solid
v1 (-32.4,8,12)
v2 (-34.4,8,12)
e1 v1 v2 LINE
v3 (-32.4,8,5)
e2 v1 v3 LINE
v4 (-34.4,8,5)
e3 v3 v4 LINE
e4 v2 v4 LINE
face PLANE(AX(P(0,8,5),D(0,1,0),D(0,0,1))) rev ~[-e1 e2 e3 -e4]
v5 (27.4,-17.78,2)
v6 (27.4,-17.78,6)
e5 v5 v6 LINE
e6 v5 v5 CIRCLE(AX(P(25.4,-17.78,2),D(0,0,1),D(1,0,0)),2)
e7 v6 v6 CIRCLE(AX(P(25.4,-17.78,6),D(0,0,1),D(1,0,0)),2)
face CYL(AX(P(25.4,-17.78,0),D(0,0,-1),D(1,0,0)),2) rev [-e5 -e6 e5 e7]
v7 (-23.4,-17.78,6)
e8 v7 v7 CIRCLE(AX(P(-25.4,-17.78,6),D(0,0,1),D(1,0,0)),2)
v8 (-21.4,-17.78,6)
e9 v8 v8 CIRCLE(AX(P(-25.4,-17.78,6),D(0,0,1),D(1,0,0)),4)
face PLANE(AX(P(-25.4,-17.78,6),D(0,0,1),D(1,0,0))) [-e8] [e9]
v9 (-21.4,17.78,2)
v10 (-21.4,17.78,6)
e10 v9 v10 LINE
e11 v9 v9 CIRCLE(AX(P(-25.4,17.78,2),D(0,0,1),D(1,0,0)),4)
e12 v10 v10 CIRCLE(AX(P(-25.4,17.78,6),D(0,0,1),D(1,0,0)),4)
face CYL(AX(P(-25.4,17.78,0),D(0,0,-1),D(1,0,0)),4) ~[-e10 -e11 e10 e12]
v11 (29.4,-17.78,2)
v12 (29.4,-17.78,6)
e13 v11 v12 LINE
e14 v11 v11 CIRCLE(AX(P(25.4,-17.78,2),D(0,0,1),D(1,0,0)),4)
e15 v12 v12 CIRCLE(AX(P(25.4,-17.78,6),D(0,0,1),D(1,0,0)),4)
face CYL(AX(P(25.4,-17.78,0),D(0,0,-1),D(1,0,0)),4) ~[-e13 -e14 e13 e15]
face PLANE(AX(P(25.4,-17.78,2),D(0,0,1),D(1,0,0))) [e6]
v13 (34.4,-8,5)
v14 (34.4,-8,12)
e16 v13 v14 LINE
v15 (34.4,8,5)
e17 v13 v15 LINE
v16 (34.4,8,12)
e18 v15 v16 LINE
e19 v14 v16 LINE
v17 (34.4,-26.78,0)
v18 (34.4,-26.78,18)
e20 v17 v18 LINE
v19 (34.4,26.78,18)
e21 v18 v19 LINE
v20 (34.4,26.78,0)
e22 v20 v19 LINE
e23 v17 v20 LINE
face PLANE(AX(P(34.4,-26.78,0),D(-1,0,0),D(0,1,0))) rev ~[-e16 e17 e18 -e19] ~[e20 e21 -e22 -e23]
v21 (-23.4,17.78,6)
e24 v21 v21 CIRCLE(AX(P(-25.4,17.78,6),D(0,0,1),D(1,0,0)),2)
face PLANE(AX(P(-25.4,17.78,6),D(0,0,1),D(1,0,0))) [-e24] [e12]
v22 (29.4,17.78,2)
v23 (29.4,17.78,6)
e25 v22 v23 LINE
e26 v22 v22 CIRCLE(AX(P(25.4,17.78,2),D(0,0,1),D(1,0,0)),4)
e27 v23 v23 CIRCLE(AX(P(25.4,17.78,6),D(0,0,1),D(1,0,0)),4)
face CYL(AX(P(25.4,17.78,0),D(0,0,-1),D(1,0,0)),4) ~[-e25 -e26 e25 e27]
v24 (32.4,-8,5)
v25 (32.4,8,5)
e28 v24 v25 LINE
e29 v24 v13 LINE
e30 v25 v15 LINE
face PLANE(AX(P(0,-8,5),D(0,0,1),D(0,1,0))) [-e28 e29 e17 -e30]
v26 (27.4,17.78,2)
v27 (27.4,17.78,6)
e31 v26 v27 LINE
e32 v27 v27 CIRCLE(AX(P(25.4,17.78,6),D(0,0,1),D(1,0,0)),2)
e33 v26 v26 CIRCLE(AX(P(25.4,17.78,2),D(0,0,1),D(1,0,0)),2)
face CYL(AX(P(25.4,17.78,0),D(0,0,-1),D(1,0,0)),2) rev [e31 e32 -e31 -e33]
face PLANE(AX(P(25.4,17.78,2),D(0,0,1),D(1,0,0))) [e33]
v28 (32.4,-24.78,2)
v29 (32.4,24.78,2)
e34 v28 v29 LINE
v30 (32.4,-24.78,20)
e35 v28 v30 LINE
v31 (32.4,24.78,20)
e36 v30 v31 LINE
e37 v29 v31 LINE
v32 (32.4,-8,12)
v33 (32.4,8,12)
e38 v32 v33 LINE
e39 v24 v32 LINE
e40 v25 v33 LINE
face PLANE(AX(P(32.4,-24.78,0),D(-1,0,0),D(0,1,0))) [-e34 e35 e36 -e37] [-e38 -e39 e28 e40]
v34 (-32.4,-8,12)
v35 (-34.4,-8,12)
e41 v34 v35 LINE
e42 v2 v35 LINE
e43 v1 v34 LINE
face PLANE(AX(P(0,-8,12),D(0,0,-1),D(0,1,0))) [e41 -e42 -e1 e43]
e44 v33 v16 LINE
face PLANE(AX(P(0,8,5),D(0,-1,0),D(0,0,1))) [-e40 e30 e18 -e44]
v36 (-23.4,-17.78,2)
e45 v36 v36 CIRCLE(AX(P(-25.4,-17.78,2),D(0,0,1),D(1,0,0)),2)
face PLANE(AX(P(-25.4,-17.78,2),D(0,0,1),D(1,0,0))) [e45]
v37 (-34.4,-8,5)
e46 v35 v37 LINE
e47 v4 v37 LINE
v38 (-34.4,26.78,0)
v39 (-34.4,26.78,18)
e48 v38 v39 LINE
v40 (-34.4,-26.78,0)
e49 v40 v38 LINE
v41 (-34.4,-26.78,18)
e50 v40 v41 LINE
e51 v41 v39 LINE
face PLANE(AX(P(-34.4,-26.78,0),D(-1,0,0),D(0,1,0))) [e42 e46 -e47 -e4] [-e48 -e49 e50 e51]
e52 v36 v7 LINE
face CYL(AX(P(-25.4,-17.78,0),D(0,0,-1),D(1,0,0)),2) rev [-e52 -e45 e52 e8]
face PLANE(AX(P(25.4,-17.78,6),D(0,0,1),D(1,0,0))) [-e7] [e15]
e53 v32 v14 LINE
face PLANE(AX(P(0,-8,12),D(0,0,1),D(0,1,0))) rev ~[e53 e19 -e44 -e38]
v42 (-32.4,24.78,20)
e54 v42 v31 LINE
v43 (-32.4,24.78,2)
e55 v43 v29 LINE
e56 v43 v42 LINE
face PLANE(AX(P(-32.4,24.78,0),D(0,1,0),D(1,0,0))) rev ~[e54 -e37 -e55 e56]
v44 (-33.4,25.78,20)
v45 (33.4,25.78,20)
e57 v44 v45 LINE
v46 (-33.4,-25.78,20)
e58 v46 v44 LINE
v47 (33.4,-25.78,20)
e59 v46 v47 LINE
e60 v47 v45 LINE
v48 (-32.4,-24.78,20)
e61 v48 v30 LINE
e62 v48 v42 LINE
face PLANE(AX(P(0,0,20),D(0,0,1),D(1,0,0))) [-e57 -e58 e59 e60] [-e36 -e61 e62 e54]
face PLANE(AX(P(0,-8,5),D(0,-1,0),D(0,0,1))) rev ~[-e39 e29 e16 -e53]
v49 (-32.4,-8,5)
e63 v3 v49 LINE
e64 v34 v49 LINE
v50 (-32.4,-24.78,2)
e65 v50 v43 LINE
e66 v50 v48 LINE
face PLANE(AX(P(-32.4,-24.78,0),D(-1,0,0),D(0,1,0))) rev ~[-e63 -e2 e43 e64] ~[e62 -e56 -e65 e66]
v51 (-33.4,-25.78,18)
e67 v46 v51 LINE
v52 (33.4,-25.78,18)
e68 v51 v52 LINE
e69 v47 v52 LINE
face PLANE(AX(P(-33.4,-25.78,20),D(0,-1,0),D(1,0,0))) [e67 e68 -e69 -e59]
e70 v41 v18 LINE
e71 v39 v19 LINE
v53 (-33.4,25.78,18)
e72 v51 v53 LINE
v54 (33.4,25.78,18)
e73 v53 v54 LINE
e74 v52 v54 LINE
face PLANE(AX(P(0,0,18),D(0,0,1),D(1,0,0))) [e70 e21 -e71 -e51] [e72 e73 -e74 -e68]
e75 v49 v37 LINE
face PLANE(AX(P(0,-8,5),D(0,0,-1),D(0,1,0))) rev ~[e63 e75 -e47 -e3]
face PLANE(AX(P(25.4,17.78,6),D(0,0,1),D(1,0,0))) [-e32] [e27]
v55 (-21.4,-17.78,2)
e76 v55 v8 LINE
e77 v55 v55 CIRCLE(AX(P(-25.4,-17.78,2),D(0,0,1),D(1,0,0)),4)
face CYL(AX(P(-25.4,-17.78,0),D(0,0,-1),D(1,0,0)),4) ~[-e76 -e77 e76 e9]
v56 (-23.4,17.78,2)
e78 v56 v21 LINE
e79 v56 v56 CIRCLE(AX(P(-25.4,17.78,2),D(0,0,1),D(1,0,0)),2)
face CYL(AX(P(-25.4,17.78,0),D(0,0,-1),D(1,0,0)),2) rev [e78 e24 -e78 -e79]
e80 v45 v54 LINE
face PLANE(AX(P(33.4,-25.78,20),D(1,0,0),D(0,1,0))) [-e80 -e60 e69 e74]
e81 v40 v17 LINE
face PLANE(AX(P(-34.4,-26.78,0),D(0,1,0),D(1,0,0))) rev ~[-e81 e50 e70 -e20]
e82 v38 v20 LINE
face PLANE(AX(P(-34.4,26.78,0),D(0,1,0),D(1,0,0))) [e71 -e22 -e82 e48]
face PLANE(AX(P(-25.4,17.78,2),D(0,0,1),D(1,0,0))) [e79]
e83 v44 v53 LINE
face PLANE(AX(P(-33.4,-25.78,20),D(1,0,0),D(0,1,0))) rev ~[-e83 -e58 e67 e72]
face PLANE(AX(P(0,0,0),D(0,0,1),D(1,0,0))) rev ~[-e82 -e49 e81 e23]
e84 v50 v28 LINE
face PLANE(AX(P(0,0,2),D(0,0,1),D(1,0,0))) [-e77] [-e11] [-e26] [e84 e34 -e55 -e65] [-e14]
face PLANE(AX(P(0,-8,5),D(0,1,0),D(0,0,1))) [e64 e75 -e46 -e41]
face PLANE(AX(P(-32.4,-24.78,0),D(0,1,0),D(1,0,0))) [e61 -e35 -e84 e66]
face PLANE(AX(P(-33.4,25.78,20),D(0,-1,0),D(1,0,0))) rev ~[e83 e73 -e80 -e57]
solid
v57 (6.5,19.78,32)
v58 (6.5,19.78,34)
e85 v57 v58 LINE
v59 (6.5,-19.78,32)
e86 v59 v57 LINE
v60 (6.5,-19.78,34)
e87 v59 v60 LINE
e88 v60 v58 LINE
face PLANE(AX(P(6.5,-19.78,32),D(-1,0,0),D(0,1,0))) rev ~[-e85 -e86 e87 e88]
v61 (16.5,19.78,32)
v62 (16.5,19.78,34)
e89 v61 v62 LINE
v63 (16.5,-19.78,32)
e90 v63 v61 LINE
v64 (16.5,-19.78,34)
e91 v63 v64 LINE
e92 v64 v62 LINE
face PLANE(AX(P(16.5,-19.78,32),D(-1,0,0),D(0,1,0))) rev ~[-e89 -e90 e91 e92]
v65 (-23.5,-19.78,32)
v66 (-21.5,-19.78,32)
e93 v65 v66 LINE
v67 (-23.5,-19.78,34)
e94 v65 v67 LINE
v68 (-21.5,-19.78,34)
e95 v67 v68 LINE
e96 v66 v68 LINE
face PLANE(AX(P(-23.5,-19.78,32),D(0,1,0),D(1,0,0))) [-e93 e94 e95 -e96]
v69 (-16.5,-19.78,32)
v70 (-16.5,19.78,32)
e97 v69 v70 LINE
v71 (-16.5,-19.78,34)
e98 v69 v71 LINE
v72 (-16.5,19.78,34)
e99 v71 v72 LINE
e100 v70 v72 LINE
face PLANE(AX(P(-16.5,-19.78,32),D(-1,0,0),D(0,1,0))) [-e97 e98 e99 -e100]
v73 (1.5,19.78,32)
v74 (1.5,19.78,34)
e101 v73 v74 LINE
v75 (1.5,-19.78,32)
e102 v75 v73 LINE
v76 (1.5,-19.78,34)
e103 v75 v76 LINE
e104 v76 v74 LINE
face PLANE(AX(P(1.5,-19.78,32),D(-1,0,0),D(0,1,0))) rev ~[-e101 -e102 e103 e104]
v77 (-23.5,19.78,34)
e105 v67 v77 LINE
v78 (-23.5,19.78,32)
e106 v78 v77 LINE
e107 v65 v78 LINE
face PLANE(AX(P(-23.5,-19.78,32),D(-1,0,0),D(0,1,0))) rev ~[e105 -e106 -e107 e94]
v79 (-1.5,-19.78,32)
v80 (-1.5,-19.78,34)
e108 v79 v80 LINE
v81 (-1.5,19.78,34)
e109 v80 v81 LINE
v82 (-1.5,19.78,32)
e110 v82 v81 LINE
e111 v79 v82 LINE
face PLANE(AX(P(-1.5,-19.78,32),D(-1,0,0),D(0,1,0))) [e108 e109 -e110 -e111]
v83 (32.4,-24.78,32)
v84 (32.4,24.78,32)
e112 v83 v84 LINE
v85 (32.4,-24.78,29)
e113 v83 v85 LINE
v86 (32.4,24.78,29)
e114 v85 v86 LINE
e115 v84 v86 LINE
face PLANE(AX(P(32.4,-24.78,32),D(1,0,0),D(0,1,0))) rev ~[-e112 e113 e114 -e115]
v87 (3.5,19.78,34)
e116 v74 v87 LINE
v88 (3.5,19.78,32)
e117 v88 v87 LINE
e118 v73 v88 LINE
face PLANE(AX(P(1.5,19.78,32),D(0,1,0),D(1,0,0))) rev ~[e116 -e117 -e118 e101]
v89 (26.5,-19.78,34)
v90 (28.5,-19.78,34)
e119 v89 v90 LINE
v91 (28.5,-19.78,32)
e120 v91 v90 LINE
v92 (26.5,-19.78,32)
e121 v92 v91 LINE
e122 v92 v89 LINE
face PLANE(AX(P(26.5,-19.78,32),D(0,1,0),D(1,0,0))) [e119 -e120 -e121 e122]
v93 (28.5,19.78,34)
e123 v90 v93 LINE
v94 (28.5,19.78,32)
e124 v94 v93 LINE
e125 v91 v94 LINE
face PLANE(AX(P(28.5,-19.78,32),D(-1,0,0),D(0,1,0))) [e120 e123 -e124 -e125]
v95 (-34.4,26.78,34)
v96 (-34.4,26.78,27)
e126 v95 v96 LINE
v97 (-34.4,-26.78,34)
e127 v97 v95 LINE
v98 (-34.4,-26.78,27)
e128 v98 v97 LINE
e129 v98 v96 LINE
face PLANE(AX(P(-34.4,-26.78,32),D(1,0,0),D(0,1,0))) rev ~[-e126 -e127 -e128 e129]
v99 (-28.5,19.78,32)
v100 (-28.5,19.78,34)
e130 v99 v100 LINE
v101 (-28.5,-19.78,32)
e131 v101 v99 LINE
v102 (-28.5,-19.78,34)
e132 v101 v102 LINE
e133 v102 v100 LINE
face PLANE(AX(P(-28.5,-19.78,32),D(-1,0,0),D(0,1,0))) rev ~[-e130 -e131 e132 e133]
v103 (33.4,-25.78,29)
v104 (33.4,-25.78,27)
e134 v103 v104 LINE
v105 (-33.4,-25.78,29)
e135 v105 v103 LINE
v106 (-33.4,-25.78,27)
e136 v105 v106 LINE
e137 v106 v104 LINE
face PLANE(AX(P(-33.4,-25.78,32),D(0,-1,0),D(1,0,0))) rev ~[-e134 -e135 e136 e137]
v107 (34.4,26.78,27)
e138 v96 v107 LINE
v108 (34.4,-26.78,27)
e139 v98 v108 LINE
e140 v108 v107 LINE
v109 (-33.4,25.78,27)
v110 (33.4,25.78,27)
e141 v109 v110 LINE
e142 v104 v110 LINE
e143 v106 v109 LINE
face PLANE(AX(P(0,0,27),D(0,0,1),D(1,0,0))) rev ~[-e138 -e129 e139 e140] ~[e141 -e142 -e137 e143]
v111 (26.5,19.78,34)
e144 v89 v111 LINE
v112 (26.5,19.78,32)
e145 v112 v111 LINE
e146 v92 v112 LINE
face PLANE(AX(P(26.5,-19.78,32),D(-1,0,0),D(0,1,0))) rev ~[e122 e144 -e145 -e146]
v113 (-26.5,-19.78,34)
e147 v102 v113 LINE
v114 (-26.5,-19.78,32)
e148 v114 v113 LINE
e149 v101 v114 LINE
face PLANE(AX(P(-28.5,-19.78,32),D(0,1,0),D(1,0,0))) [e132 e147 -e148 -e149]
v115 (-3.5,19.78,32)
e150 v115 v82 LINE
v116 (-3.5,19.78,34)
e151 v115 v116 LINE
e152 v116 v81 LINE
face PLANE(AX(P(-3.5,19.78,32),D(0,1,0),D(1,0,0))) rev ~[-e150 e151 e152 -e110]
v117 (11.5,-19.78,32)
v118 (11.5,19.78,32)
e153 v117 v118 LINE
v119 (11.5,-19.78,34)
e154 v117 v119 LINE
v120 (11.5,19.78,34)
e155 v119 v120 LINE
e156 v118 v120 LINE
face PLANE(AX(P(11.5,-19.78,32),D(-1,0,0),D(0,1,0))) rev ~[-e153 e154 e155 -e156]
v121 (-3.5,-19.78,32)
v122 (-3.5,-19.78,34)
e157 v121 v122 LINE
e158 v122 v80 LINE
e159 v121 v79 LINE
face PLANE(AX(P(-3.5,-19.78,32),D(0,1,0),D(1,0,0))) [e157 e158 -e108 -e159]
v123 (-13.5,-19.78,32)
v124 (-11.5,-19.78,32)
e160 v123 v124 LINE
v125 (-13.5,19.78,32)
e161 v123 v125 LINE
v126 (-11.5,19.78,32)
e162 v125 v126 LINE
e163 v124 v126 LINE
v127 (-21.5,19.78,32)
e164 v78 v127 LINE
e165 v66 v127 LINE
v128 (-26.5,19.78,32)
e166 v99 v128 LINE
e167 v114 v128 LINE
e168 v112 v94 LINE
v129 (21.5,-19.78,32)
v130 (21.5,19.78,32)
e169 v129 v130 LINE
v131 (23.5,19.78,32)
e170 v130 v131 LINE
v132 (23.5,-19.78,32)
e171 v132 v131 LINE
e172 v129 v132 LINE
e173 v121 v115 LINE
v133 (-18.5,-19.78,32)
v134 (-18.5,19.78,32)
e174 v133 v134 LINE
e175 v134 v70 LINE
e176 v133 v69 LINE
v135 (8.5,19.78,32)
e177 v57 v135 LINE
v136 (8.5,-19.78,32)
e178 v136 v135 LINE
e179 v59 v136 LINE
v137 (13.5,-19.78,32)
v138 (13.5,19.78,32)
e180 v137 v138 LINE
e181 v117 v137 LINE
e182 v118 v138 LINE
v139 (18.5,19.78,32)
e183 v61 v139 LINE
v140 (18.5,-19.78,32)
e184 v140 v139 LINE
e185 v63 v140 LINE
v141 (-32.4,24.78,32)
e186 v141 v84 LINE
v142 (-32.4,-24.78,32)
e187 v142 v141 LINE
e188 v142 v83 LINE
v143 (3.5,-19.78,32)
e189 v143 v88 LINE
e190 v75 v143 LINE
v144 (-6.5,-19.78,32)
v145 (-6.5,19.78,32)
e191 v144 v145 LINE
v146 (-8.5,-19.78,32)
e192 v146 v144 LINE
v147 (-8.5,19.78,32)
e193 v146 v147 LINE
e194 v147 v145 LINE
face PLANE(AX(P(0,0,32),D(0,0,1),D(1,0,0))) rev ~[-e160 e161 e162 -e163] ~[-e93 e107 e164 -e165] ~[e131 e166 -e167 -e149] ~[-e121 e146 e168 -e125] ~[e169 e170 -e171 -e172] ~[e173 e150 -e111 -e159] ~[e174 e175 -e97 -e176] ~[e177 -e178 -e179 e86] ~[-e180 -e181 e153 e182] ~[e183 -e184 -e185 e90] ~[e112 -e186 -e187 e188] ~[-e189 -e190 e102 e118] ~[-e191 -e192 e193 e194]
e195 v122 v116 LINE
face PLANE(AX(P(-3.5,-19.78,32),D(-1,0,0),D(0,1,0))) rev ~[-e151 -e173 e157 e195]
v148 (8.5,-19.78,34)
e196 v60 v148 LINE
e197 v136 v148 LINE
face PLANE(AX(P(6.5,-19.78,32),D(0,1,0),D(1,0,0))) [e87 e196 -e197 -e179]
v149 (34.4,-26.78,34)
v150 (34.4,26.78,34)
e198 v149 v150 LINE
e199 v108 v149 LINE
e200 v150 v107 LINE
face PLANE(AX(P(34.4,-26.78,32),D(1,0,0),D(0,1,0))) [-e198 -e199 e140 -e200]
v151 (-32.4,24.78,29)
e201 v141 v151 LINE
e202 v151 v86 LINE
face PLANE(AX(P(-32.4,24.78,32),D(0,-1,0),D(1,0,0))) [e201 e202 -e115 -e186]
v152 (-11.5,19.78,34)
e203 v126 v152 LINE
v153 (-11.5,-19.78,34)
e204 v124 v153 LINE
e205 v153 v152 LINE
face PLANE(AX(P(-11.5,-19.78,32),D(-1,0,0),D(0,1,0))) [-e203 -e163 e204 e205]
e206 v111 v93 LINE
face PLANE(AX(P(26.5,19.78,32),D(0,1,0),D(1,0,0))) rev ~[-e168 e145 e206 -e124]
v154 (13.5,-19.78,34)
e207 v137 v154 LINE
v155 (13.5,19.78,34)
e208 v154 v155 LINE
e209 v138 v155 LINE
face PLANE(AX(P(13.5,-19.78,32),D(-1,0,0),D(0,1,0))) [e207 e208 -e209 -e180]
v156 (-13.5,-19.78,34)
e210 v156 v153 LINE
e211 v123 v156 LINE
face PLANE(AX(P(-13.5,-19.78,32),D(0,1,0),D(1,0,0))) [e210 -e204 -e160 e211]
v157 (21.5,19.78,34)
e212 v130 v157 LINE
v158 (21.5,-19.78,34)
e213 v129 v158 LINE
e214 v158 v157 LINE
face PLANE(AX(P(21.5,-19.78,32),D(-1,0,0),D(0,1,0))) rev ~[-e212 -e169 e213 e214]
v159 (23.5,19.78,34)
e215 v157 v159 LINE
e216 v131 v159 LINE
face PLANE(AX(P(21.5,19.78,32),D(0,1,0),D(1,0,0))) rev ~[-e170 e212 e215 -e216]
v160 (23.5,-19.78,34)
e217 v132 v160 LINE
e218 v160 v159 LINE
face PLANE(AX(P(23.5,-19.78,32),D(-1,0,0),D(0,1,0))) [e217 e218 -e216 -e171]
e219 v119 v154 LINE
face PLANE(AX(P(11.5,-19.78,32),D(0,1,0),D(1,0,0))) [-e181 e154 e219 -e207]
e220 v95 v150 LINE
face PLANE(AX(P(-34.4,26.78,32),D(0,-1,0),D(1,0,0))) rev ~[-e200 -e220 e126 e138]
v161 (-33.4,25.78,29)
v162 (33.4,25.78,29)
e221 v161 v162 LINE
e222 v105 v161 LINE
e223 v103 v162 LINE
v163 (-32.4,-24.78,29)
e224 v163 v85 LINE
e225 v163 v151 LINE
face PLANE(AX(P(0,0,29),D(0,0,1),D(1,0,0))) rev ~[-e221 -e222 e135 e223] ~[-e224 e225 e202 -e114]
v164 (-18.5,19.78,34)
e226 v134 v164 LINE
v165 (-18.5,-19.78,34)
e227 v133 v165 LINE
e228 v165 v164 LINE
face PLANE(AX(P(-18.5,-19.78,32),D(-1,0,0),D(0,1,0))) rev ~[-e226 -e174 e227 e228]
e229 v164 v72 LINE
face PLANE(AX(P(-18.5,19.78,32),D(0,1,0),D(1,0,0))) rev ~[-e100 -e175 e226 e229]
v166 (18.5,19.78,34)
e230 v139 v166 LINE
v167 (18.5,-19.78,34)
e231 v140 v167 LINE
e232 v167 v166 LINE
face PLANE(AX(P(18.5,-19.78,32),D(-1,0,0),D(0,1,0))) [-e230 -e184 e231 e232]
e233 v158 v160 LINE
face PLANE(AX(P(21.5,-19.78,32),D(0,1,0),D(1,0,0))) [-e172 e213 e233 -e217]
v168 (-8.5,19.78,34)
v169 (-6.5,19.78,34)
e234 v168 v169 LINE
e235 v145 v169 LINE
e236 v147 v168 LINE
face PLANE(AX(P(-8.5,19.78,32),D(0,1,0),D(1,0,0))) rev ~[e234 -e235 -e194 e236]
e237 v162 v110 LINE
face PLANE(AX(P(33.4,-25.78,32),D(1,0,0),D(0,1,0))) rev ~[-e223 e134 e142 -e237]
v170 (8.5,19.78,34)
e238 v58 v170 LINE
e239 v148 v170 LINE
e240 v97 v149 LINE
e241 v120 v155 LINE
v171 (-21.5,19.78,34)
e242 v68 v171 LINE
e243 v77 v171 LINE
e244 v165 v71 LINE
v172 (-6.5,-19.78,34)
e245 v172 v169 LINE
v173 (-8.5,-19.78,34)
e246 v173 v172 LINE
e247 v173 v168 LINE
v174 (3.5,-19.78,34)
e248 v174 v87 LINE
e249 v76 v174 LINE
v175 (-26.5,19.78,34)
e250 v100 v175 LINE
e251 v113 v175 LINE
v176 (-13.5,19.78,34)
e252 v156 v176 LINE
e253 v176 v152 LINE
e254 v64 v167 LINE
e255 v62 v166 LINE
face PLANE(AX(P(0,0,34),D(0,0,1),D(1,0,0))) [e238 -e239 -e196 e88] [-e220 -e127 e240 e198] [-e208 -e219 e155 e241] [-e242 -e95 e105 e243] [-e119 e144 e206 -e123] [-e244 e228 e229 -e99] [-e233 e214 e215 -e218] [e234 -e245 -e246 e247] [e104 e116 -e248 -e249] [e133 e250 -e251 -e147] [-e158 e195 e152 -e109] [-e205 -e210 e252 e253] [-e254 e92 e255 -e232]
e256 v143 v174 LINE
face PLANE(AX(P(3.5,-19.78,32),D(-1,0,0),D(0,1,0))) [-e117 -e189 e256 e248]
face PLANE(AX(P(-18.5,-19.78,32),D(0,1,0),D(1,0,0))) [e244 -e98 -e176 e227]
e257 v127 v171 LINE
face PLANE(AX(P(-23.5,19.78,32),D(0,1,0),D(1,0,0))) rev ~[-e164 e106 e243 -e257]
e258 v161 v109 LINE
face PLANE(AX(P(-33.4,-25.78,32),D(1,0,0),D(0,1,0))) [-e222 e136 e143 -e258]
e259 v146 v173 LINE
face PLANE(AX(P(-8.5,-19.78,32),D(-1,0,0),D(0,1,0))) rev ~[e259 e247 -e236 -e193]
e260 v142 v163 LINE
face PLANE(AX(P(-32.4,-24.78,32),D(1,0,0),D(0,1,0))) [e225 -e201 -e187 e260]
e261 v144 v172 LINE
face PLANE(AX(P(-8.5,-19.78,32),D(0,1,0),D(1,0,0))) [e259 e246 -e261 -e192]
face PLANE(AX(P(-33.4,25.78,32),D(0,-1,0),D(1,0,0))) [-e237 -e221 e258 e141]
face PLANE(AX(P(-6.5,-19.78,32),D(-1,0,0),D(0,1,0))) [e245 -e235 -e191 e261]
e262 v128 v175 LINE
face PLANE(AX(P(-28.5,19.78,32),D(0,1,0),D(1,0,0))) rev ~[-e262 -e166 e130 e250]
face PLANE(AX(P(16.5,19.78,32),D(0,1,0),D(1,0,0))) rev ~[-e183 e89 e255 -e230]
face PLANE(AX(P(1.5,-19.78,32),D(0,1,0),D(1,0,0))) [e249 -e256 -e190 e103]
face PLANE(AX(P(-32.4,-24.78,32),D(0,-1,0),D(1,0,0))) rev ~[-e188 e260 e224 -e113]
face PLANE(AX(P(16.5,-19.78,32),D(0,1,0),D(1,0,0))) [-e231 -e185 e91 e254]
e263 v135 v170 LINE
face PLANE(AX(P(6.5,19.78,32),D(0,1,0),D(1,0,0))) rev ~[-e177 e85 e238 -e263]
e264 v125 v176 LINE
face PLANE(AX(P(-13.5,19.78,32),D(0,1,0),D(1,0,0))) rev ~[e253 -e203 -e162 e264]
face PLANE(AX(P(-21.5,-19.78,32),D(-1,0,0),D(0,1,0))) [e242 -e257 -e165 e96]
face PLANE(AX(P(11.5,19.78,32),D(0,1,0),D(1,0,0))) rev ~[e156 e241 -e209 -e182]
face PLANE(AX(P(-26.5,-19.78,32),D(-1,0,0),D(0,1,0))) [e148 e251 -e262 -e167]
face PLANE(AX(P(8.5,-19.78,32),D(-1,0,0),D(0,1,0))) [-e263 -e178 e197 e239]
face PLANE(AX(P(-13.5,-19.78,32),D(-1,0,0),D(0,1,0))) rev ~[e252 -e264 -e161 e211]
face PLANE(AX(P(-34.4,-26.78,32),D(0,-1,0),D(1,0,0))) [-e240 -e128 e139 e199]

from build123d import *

# Parameters (mm, degrees)
F0_W          = 64.8
F0_H          = 49.56
F0_R          = 4
F1_DEPTH      = 2
F0_R_2        = 2
F2_DEPTH      = 6
F3_DEPTH      = 2
F0_W_2        = 68.8
F0_H_2        = 53.56
F4_DEPTH      = 20
F5_W          = 68.8
F5_H          = 53.56
F5_W_2        = 66.8
F5_H_2        = 51.56
F6_DEPTH      = 2
F7_W          = 16
F7_H          = 7
F8_DEPTH      = 40
F8_DEPTH_BACK = 40
F10_W         = 68.8
F10_H         = 53.56
F10_W_2       = 66.8
F10_H_2       = 51.56
F10_W_3       = 64.8
F10_H_3       = 49.56
F10_W_4       = 2
F10_H_4       = 39.56
F11_DEPTH     = 2
F12_DEPTH     = 5
F13_DEPTH     = 3


with BuildPart() as f1:
    # F0 (on Top) → F1 (new body)
    with BuildSketch(Plane.XY):
        Rectangle(F0_W, F0_H)
        with Locations((-25.4, -17.78)):
            Circle(F0_R, mode=Mode.SUBTRACT)
        with Locations((25.4, -17.78)):
            Circle(F0_R, mode=Mode.SUBTRACT)
        with Locations((-25.4, 17.78)):
            Circle(F0_R, mode=Mode.SUBTRACT)
        with Locations((25.4, 17.78)):
            Circle(F0_R, mode=Mode.SUBTRACT)
    extrude(amount=F1_DEPTH)

    # F0 (on Top) → F2 (join)
    with BuildSketch(Plane.XY):
        with Locations((-25.4, 17.78)):
            Circle(F0_R)
        with Locations((-25.4, 17.78)):
            Circle(F0_R_2, mode=Mode.SUBTRACT)
        with Locations((25.4, 17.78)):
            Circle(F0_R)
        with Locations((25.4, 17.78)):
            Circle(F0_R_2, mode=Mode.SUBTRACT)
        with Locations((25.4, -17.78)):
            Circle(F0_R)
        with Locations((25.4, -17.78)):
            Circle(F0_R_2, mode=Mode.SUBTRACT)
        with Locations((-25.4, -17.78)):
            Circle(F0_R)
        with Locations((-25.4, -17.78)):
            Circle(F0_R_2, mode=Mode.SUBTRACT)
    extrude(amount=F2_DEPTH)

    # F0 (on Top) → F3 (join)
    with BuildSketch(Plane.XY):
        with Locations((-25.4, 17.78)):
            Circle(F0_R_2)
        with Locations((-25.4, -17.78)):
            Circle(F0_R_2)
        with Locations((25.4, -17.78)):
            Circle(F0_R_2)
        with Locations((25.4, 17.78)):
            Circle(F0_R_2)
    extrude(amount=F3_DEPTH)

    # F0 (on Top) → F4 (join)
    with BuildSketch(Plane.XY):
        Rectangle(F0_W_2, F0_H_2)
        Rectangle(F0_W, F0_H, mode=Mode.SUBTRACT)
    extrude(amount=F4_DEPTH)

    # F5 (on face) → F6 (cut)
    with BuildSketch(Plane.XY.offset(20)):
        Rectangle(F5_W, F5_H)
        Rectangle(F5_W_2, F5_H_2, mode=Mode.SUBTRACT)
    extrude(amount=-F6_DEPTH, mode=Mode.SUBTRACT)

    # F7 (on Right) → F8 (cut, two sides)
    with BuildSketch(Plane.YZ) as f8_sk:
        with Locations((0, 8.5)):
            Rectangle(F7_W, F7_H)
    extrude(amount=-F8_DEPTH, mode=Mode.SUBTRACT)
    extrude(f8_sk.sketch, amount=F8_DEPTH_BACK, mode=Mode.SUBTRACT)


with BuildPart() as f11:
    # F10 (on offset) → F11 (new body)
    with BuildSketch(Plane.XY.offset(32)):
        Rectangle(F10_W, F10_H)
        Rectangle(F10_W_2, F10_H_2, mode=Mode.SUBTRACT)
        Rectangle(F10_W_2, F10_H_2)
        Rectangle(F10_W_3, F10_H_3, mode=Mode.SUBTRACT)
        Rectangle(F10_W_3, F10_H_3)
        with Locations((-27.5, 0)):
            Rectangle(F10_W_4, F10_H_4, mode=Mode.SUBTRACT)
        with Locations((-22.5, 0)):
            Rectangle(F10_W_4, F10_H_4, mode=Mode.SUBTRACT)
        with Locations((-17.5, 0)):
            Rectangle(F10_W_4, F10_H_4, mode=Mode.SUBTRACT)
        with Locations((-12.5, 0)):
            Rectangle(F10_W_4, F10_H_4, mode=Mode.SUBTRACT)
        with Locations((-7.5, 0)):
            Rectangle(F10_W_4, F10_H_4, mode=Mode.SUBTRACT)
        with Locations((-2.5, 0)):
            Rectangle(F10_W_4, F10_H_4, mode=Mode.SUBTRACT)
        with Locations((2.5, 0)):
            Rectangle(F10_W_4, F10_H_4, mode=Mode.SUBTRACT)
        with Locations((7.5, 0)):
            Rectangle(F10_W_4, F10_H_4, mode=Mode.SUBTRACT)
        with Locations((12.5, 0)):
            Rectangle(F10_W_4, F10_H_4, mode=Mode.SUBTRACT)
        with Locations((17.5, 0)):
            Rectangle(F10_W_4, F10_H_4, mode=Mode.SUBTRACT)
        with Locations((22.5, 0)):
            Rectangle(F10_W_4, F10_H_4, mode=Mode.SUBTRACT)
        with Locations((27.5, 0)):
            Rectangle(F10_W_4, F10_H_4, mode=Mode.SUBTRACT)
    extrude(amount=F11_DEPTH)

    # F10 (on offset) → F12 (join)
    with BuildSketch(Plane.XY.offset(32)):
        Rectangle(F10_W, F10_H)
        Rectangle(F10_W_2, F10_H_2, mode=Mode.SUBTRACT)
    extrude(amount=-F12_DEPTH)

    # F10 (on offset) → F13 (join)
    with BuildSketch(Plane.XY.offset(32)):
        Rectangle(F10_W_2, F10_H_2)
        Rectangle(F10_W_3, F10_H_3, mode=Mode.SUBTRACT)
    extrude(amount=-F13_DEPTH)


solid = Compound([f1.part, f11.part])
